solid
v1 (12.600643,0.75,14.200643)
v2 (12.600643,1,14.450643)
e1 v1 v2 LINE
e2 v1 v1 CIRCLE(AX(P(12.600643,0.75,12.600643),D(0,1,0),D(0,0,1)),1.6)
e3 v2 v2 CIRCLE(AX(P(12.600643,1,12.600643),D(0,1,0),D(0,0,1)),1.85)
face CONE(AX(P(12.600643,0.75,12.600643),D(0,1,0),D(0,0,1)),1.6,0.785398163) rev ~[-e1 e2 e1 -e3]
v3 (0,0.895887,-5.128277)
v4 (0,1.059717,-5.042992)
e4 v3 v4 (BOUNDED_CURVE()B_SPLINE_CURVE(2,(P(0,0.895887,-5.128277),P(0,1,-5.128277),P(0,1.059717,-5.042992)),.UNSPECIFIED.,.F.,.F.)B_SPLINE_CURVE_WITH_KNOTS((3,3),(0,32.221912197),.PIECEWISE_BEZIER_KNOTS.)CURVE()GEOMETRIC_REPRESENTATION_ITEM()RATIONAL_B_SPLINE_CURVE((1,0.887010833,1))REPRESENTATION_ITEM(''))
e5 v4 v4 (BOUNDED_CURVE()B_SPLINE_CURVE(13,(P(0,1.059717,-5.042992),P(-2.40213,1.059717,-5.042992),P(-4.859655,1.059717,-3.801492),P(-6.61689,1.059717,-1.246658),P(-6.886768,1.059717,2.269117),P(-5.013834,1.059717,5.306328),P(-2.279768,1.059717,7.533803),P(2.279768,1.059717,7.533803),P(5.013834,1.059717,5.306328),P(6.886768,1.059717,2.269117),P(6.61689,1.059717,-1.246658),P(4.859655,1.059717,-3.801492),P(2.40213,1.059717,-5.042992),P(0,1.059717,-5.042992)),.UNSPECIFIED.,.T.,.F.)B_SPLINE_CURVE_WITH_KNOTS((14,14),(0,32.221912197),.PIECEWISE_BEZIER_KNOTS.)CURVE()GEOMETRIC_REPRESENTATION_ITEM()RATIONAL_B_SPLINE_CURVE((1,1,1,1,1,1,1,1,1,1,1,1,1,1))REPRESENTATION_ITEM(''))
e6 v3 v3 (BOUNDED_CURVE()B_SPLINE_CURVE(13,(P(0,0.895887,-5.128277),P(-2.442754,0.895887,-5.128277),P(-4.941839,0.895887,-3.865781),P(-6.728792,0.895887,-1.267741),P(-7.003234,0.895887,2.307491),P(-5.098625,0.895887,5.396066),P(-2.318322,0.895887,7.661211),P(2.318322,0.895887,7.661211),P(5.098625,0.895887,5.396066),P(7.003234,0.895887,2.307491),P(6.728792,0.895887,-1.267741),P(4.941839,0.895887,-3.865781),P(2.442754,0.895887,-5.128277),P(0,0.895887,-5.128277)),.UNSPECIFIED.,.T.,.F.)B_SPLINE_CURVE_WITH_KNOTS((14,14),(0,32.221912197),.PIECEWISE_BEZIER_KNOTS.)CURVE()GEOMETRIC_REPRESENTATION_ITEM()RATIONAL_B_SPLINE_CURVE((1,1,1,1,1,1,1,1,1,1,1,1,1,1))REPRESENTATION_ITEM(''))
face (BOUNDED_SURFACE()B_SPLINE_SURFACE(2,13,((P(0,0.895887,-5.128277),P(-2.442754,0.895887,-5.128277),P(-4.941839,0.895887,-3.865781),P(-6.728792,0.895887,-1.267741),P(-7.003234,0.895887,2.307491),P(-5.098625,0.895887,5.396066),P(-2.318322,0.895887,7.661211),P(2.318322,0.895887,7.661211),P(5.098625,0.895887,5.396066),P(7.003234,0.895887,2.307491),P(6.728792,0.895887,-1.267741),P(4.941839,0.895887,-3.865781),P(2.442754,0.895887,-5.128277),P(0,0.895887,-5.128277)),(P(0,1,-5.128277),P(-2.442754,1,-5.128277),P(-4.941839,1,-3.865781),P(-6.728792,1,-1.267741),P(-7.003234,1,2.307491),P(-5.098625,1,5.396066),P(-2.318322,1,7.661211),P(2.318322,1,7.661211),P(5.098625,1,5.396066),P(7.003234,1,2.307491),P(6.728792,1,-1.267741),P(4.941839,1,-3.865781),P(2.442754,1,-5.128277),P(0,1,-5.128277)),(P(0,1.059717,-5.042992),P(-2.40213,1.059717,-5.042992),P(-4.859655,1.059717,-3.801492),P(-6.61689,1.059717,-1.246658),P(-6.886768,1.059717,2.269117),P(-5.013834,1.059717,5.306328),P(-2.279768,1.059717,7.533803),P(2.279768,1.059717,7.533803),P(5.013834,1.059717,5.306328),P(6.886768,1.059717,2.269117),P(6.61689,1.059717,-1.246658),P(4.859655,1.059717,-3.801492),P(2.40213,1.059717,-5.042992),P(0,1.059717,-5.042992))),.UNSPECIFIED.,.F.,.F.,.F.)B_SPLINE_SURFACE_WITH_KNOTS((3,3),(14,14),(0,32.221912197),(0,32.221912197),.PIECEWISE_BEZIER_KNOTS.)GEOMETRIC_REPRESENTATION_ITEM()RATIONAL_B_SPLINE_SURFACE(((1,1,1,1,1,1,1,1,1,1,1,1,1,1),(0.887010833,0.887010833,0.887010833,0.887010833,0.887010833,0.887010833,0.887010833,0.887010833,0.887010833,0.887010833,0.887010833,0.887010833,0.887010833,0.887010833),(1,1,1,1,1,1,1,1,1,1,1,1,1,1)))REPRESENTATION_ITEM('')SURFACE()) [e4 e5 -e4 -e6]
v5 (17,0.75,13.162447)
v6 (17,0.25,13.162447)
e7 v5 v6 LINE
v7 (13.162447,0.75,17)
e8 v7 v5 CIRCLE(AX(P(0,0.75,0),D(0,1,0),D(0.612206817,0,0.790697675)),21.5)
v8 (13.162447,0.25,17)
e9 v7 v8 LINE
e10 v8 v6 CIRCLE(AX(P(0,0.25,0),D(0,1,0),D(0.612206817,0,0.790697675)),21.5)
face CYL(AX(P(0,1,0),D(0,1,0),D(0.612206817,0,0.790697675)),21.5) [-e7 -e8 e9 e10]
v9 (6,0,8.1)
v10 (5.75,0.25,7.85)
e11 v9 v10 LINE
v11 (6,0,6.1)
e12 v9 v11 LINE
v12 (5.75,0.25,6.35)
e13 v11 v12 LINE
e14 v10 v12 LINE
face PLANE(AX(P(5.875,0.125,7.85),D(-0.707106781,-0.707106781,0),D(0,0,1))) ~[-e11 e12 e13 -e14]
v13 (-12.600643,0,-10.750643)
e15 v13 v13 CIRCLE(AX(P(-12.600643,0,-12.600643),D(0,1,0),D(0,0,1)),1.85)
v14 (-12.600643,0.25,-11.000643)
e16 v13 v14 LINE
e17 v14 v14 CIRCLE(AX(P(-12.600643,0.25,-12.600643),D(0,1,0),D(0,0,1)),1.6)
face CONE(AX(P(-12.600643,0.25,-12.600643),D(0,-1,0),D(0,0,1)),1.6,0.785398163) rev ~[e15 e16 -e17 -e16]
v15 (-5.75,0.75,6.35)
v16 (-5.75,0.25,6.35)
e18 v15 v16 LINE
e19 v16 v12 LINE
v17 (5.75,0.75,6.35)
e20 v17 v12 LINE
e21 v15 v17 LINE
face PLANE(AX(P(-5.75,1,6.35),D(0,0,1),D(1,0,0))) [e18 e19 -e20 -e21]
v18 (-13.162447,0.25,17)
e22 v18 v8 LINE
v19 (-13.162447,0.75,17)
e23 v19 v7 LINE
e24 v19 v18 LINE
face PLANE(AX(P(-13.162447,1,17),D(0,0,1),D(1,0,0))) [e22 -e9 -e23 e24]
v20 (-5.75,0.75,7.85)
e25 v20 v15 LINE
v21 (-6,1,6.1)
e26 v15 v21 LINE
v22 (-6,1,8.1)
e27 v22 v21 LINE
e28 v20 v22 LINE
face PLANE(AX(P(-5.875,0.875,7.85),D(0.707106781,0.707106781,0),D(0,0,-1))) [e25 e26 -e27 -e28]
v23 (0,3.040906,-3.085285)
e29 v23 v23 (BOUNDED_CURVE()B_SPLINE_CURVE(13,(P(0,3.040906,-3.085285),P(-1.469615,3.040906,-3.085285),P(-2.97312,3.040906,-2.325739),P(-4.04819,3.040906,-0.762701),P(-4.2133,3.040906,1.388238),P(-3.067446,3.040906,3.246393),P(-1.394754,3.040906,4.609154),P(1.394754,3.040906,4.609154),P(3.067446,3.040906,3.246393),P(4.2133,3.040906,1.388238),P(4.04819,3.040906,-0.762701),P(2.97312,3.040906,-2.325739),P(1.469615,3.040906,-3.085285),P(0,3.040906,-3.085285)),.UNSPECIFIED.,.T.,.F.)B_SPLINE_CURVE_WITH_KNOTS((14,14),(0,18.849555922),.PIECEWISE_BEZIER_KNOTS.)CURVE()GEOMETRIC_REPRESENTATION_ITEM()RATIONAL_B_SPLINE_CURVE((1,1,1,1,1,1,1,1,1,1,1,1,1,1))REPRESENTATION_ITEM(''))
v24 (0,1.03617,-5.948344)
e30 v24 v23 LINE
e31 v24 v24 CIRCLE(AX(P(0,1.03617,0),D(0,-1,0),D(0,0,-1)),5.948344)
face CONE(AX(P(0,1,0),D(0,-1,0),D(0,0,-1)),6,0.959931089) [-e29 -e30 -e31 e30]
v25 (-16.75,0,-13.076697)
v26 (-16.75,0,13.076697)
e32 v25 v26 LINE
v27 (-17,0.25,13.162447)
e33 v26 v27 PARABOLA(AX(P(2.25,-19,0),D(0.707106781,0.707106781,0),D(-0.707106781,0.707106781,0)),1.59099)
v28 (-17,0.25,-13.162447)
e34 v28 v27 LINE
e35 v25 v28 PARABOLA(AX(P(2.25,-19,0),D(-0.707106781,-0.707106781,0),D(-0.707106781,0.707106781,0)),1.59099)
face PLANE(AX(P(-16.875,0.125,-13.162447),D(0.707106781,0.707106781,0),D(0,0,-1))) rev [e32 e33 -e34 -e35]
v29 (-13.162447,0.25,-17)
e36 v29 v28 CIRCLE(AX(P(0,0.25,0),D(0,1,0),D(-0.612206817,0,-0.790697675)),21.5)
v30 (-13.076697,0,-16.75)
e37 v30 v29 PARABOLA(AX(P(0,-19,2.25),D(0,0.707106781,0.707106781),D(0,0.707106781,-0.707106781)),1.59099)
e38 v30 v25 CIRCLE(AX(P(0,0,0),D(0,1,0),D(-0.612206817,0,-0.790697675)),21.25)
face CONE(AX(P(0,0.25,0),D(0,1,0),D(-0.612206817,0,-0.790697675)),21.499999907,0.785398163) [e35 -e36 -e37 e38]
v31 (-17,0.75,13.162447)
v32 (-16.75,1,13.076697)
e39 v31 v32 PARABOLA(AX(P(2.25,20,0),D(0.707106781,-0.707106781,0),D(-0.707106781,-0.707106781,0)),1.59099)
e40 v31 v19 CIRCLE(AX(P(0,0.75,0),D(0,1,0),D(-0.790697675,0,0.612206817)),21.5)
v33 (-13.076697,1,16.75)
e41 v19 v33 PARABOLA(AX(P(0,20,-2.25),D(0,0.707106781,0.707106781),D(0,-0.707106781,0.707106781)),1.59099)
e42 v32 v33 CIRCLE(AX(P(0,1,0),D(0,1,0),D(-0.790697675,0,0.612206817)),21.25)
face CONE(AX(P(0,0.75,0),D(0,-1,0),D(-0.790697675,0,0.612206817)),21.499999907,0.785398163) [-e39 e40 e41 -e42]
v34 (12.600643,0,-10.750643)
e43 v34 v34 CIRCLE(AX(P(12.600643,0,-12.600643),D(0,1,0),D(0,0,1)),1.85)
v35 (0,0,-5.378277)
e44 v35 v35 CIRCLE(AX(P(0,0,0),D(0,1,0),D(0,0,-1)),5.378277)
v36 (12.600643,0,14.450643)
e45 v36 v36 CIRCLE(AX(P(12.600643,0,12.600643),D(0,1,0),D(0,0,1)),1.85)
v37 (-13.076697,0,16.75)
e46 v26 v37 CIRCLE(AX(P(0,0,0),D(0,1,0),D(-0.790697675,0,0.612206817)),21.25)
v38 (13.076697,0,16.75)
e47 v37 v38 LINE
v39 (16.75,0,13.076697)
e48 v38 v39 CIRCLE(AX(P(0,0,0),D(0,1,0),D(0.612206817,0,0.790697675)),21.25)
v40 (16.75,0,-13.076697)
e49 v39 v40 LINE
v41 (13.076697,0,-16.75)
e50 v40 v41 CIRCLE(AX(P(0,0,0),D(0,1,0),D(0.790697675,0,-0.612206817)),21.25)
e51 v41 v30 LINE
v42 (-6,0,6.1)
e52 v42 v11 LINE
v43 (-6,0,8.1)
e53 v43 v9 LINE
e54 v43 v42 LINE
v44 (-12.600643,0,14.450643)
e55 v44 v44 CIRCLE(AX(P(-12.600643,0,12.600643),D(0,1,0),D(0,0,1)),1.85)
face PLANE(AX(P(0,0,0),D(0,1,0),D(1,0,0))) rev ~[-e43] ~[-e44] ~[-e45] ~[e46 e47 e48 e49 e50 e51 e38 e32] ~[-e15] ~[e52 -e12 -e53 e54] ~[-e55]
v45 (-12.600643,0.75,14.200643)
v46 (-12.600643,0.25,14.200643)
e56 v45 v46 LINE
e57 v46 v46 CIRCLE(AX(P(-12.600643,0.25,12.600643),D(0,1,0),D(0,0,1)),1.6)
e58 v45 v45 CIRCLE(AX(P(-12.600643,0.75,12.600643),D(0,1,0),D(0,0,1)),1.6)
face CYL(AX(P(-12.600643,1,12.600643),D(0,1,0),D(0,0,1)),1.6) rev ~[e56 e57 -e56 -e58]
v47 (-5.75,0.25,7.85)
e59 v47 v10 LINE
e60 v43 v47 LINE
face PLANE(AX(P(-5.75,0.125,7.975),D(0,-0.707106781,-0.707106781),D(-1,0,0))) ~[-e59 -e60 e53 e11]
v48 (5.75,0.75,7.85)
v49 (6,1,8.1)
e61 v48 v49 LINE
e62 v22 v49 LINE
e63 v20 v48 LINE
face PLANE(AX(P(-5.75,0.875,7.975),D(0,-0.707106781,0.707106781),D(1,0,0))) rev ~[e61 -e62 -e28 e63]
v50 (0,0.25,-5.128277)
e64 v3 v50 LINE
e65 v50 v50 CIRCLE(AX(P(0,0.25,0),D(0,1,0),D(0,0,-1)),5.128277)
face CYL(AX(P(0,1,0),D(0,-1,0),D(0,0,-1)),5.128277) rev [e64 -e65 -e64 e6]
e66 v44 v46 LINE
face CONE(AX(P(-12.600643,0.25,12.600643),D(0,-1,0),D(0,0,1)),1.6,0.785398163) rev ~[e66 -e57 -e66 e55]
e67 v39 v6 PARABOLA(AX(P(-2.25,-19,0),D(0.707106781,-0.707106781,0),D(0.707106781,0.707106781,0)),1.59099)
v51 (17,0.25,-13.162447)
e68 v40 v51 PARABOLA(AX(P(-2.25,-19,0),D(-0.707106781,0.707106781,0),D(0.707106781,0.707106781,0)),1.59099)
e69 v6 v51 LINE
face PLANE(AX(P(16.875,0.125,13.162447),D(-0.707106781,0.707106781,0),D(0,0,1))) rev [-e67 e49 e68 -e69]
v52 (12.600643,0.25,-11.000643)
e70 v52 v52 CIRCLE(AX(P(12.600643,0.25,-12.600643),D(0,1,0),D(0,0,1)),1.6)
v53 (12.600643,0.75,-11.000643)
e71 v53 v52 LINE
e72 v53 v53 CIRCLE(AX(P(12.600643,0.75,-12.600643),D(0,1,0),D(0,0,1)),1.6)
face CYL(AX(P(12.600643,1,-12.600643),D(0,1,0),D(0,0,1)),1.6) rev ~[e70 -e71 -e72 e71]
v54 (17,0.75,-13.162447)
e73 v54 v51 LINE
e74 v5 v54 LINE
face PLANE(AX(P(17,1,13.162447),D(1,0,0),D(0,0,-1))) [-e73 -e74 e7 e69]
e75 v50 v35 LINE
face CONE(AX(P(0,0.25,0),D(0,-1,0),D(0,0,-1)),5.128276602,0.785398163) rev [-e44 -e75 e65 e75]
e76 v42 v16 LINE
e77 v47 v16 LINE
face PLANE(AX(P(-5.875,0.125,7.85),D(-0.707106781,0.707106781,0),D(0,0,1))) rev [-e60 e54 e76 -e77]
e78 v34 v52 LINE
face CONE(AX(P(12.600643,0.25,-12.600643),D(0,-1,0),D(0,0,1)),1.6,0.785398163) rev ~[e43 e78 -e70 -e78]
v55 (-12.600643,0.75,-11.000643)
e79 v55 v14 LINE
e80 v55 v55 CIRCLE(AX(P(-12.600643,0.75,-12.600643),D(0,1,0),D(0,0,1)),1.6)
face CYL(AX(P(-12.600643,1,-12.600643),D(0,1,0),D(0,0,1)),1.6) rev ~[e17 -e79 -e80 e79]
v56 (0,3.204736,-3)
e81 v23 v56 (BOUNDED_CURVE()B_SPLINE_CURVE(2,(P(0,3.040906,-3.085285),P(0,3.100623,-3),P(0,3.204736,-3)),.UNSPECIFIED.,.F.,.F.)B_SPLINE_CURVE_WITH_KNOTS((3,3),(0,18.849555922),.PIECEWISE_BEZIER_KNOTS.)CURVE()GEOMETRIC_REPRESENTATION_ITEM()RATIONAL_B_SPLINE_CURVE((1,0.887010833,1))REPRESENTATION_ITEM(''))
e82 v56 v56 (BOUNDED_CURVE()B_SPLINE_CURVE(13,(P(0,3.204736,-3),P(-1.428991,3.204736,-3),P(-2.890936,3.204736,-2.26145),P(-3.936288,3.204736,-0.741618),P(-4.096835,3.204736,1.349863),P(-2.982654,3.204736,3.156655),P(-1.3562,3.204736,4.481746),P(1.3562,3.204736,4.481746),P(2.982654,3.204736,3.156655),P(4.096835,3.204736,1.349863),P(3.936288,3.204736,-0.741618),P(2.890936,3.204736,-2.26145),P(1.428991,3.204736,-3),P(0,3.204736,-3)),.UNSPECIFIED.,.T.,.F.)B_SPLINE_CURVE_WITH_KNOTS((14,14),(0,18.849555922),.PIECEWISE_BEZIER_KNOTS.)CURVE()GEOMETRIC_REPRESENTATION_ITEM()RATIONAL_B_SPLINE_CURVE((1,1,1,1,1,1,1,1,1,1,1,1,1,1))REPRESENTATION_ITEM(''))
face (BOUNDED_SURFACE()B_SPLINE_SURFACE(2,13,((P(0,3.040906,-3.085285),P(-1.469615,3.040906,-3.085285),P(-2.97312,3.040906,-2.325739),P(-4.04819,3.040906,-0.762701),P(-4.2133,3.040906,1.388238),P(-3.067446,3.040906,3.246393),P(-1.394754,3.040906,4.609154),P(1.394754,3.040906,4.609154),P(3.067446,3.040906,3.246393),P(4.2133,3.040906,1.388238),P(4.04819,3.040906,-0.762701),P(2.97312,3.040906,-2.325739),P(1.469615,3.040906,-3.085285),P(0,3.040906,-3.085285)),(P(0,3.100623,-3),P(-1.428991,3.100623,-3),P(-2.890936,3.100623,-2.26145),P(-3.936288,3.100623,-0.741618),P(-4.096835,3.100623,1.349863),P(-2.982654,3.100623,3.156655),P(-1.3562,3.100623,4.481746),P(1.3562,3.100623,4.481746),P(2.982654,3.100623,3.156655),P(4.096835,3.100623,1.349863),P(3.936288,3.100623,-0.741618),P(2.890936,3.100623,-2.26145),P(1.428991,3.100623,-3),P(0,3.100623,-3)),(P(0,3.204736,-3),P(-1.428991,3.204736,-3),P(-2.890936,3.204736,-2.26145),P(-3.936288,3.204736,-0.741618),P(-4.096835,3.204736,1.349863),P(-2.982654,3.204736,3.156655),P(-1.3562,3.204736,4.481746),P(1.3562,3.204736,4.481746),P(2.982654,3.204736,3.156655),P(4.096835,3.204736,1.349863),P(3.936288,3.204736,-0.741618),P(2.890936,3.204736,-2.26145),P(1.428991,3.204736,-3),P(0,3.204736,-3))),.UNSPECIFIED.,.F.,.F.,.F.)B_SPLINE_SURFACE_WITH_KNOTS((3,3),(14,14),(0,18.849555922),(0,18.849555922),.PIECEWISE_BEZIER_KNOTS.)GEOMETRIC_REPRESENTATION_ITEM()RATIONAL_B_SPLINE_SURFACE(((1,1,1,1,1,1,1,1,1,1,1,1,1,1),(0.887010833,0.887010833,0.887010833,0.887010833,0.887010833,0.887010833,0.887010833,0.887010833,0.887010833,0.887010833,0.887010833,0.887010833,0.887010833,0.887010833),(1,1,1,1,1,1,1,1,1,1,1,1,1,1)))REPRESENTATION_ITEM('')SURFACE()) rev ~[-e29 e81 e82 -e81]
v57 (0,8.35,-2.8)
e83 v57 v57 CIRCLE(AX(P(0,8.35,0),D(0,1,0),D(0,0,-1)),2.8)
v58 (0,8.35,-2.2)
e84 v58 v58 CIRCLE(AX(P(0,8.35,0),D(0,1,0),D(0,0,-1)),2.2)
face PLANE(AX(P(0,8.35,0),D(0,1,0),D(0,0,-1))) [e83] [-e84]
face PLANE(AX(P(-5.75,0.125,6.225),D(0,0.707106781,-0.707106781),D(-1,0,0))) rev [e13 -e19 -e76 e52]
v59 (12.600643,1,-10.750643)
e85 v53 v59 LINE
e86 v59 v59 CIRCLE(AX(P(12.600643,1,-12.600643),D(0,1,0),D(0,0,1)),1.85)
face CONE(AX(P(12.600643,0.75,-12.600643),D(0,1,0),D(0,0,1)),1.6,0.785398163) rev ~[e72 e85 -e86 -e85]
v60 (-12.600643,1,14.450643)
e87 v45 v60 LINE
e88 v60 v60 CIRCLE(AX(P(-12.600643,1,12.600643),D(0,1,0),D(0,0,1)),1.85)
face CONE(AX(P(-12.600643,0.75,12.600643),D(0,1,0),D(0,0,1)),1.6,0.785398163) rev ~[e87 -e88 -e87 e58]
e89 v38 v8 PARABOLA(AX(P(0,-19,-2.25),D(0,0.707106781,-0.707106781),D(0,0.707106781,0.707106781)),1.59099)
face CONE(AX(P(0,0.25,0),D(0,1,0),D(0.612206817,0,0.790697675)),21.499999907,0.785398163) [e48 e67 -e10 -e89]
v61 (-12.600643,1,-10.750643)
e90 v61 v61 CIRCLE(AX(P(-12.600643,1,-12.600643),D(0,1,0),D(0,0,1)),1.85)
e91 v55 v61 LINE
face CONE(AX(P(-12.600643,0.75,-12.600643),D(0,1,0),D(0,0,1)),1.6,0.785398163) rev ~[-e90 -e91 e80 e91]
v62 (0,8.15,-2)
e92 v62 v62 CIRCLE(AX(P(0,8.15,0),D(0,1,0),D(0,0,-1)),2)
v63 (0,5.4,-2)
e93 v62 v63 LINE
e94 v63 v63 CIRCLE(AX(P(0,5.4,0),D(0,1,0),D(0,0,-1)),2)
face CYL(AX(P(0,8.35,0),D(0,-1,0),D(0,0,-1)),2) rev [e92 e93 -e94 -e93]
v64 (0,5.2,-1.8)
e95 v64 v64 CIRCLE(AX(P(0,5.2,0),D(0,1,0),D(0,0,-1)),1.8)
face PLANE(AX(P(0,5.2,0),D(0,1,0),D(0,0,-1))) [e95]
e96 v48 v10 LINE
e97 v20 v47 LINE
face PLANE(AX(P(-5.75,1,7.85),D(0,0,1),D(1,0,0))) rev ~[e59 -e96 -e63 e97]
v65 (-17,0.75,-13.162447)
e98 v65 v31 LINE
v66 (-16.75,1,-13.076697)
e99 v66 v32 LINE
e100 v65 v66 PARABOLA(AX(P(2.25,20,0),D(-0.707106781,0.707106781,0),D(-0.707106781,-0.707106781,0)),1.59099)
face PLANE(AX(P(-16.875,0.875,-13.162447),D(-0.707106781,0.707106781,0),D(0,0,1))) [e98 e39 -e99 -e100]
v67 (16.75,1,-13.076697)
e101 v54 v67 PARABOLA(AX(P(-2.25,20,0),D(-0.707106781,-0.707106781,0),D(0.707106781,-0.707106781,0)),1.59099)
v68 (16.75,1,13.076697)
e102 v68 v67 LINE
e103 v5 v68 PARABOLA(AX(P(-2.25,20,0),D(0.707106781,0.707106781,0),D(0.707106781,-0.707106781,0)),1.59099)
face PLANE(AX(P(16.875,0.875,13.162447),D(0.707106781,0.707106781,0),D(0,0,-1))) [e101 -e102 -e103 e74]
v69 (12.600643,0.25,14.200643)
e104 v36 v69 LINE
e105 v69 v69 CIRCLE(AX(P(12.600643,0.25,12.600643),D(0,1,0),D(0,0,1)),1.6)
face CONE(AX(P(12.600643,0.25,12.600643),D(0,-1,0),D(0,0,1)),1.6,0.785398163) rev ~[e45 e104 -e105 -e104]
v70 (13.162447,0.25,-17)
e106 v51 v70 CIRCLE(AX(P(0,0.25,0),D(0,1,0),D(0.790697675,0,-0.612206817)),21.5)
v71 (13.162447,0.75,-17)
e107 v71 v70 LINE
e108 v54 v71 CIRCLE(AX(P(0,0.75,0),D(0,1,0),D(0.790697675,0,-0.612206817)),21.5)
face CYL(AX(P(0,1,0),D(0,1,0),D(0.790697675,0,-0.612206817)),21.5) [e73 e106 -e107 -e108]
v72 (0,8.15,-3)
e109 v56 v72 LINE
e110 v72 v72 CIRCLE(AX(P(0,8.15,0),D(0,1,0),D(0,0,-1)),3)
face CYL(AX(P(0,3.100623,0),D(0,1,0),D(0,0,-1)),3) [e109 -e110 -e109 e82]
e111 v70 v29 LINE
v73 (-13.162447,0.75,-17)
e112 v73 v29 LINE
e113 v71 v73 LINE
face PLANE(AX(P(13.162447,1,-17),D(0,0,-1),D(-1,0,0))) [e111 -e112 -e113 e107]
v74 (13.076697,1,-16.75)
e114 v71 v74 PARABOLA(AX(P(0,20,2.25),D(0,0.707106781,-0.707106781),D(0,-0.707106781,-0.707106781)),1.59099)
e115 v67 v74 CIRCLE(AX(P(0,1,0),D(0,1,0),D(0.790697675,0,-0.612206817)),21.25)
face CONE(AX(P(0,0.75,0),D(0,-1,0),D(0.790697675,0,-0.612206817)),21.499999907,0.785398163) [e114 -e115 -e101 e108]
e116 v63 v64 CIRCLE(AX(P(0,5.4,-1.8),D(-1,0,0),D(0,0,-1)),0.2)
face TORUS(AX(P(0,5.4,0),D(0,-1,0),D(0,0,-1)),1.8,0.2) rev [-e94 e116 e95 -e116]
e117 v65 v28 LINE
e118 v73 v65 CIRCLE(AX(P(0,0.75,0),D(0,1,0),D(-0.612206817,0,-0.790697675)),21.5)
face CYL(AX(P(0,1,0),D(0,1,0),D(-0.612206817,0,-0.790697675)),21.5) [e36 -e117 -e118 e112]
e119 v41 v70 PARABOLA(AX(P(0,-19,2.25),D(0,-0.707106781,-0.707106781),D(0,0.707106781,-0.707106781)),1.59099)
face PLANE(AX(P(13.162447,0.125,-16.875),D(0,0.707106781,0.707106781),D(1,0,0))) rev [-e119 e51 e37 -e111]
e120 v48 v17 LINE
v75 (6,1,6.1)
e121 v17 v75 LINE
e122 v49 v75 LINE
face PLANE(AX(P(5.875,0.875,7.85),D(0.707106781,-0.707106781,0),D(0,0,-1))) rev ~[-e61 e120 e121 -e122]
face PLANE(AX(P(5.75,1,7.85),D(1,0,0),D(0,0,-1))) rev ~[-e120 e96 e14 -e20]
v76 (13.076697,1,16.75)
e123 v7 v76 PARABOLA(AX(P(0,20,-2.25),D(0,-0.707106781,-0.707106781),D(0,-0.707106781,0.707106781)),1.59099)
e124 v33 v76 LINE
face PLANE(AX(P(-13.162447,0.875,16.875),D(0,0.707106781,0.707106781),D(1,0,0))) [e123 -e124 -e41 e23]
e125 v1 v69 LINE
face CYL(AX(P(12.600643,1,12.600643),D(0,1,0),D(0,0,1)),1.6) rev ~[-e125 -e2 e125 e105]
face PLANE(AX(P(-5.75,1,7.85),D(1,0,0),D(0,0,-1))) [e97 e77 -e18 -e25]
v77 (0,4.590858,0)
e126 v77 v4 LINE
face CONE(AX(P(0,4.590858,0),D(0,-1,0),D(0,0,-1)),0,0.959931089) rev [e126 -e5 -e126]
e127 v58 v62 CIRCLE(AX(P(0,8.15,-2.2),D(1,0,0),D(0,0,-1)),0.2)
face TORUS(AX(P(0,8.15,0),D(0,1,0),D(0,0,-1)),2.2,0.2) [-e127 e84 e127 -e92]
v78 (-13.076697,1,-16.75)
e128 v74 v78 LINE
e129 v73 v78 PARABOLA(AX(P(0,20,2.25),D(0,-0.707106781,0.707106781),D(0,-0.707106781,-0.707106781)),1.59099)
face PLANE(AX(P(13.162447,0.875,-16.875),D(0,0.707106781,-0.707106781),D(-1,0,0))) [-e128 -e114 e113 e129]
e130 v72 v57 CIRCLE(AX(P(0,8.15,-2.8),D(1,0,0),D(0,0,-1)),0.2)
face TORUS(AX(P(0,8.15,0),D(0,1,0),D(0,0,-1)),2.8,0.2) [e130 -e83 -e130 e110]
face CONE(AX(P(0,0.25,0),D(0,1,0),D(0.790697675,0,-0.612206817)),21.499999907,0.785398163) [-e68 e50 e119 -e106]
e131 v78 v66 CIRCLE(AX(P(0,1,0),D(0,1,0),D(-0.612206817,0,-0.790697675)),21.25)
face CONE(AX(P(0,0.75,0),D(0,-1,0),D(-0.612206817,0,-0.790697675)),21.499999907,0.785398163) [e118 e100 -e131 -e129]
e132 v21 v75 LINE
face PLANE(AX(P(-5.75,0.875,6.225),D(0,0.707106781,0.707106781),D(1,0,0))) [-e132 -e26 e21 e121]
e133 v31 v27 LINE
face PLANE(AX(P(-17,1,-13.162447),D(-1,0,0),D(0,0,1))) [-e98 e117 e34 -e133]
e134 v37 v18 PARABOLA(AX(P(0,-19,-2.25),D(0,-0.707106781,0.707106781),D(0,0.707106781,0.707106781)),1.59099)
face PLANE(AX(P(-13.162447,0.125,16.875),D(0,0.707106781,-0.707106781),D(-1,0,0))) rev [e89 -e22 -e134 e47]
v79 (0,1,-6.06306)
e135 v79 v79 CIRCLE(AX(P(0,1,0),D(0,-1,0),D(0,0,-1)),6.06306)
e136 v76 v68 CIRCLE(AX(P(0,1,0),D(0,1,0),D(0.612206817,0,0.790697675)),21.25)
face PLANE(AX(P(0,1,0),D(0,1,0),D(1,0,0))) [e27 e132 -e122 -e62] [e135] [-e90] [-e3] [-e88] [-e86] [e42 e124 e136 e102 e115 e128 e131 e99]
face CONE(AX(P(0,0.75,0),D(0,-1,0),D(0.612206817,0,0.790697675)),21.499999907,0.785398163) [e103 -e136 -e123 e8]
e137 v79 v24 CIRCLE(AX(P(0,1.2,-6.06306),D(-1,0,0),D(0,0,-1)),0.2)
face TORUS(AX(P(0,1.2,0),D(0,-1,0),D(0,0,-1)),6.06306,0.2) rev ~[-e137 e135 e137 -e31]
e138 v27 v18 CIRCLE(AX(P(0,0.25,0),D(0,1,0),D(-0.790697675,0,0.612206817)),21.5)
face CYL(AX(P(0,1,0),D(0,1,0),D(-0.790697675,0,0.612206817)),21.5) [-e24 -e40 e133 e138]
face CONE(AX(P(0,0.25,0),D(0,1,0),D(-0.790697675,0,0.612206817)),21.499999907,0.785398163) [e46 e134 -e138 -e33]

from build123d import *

# Parameters (mm, degrees)
BOSS_EXTRUDE1_START = 1
SKETCH2_R           = 1.6
SKETCH2_W           = 11.5
SKETCH2_H           = 1.5
SKETCH2_R_2         = 6
BOSS_EXTRUDE1_DEPTH = 1
FILLET1_R           = 0.2
CHAMFER1_SIZE       = 0.25


with BuildPart() as part:
    # Sketch1 → Revolve1 (revolve)
    with BuildSketch(Plane(origin=(0, 0, 0), x_dir=(0, 0, -1), z_dir=(1, 0, 0))):
        Polygon((3, 8.35), (2, 8.35), (2, 5.2), (0, 5.2), (0, 4.590857935), (5.128276602, 1), (5.128276602, 0), (6, 0), (6, 1), (3, 3.100622615), align=None)
    revolve(axis=Axis((0, 0, 0), (0, 1, 0)))

    # Sketch2 → Boss-Extrude1 (add)
    with BuildSketch(Plane(origin=(0, 0, 0), x_dir=(1, 0, 0), z_dir=(0, 1, 0)).offset(BOSS_EXTRUDE1_START)):
        with BuildLine():
            Line((17, -13.162446581), (17, 13.162446581))
            ThreePointArc((17, 13.162446581), (15.202795796, 15.202795796), (13.162446581, 17))
            Line((13.162446581, 17), (-13.162446581, 17))
            ThreePointArc((-13.162446581, 17), (-15.202795796, 15.202795796), (-17, 13.162446581))
            Line((-17, 13.162446581), (-17, -13.162446581))
            ThreePointArc((-17, -13.162446581), (-15.202795796, -15.202795796), (-13.162446581, -17))
            Line((-13.162446581, -17), (13.162446581, -17))
            ThreePointArc((13.162446581, -17), (15.202795796, -15.202795796), (17, -13.162446581))
        make_face()
        with Locations((-12.600642841, -12.600642841)):
            Circle(SKETCH2_R, mode=Mode.SUBTRACT)
        with Locations((12.600642841, -12.600642841)):
            Circle(SKETCH2_R, mode=Mode.SUBTRACT)
        with Locations((0, -7.1)):
            Rectangle(SKETCH2_W, SKETCH2_H, mode=Mode.SUBTRACT)
        with Locations((-12.600642841, 12.600642841)):
            Circle(SKETCH2_R, mode=Mode.SUBTRACT)
        Circle(SKETCH2_R_2, mode=Mode.SUBTRACT)
        with Locations((12.600642841, 12.600642841)):
            Circle(SKETCH2_R, mode=Mode.SUBTRACT)
    extrude(amount=-BOSS_EXTRUDE1_DEPTH)

    # Fillet1
    fillet1_edges = [part.edges().sort_by_distance(p)[0] for p in [
        (0, 8.35, 2),
        (0, 8.35, 3),
        (0, 5.2, 2),
        (0, 1, 5.128276602),
        (0, 3.100622615, 3),
        (0, 1, 6),
    ]]
    fillet(fillet1_edges, radius=FILLET1_R)

    # Chamfer1
    chamfer1_edges = [part.edges().sort_by_distance(p)[0] for p in [
        (0, 0, 5.128276602),
        (15.202795796, 0, 15.202795796),
        (17, 0, 0),
        (15.202795796, 0, -15.202795796),
        (0, 0, -17),
        (-15.202795796, 0, -15.202795796),
        (-17, 0, 0),
        (-15.202795796, 0, 15.202795796),
        (0, 0, 17),
        (5.75, 0, 7.1),
        (0, 0, 7.85),
        (-5.75, 0, 7.1),
        (0, 0, 6.35),
        (11.000642841, 0, -12.600642841),
        (11.000642841, 0, 12.600642841),
        (-14.200642841, 0, 12.600642841),
        (-14.200642841, 0, -12.600642841),
        (-15.202795796, 1, 15.202795796),
        (-17, 1, 0),
        (-15.202795796, 1, -15.202795796),
        (0, 1, -17),
        (15.202795796, 1, -15.202795796),
        (17, 1, 0),
        (15.202795796, 1, 15.202795796),
        (0, 1, 17),
        (-5.75, 1, 7.1),
        (0, 1, 7.85),
        (5.75, 1, 7.1),
        (0, 1, 6.35),
        (11.000642841, 1, -12.600642841),
        (11.000642841, 1, 12.600642841),
        (-14.200642841, 1, 12.600642841),
        (-14.200642841, 1, -12.600642841),
    ]]
    chamfer(chamfer1_edges, length=CHAMFER1_SIZE)


solid = part.part
